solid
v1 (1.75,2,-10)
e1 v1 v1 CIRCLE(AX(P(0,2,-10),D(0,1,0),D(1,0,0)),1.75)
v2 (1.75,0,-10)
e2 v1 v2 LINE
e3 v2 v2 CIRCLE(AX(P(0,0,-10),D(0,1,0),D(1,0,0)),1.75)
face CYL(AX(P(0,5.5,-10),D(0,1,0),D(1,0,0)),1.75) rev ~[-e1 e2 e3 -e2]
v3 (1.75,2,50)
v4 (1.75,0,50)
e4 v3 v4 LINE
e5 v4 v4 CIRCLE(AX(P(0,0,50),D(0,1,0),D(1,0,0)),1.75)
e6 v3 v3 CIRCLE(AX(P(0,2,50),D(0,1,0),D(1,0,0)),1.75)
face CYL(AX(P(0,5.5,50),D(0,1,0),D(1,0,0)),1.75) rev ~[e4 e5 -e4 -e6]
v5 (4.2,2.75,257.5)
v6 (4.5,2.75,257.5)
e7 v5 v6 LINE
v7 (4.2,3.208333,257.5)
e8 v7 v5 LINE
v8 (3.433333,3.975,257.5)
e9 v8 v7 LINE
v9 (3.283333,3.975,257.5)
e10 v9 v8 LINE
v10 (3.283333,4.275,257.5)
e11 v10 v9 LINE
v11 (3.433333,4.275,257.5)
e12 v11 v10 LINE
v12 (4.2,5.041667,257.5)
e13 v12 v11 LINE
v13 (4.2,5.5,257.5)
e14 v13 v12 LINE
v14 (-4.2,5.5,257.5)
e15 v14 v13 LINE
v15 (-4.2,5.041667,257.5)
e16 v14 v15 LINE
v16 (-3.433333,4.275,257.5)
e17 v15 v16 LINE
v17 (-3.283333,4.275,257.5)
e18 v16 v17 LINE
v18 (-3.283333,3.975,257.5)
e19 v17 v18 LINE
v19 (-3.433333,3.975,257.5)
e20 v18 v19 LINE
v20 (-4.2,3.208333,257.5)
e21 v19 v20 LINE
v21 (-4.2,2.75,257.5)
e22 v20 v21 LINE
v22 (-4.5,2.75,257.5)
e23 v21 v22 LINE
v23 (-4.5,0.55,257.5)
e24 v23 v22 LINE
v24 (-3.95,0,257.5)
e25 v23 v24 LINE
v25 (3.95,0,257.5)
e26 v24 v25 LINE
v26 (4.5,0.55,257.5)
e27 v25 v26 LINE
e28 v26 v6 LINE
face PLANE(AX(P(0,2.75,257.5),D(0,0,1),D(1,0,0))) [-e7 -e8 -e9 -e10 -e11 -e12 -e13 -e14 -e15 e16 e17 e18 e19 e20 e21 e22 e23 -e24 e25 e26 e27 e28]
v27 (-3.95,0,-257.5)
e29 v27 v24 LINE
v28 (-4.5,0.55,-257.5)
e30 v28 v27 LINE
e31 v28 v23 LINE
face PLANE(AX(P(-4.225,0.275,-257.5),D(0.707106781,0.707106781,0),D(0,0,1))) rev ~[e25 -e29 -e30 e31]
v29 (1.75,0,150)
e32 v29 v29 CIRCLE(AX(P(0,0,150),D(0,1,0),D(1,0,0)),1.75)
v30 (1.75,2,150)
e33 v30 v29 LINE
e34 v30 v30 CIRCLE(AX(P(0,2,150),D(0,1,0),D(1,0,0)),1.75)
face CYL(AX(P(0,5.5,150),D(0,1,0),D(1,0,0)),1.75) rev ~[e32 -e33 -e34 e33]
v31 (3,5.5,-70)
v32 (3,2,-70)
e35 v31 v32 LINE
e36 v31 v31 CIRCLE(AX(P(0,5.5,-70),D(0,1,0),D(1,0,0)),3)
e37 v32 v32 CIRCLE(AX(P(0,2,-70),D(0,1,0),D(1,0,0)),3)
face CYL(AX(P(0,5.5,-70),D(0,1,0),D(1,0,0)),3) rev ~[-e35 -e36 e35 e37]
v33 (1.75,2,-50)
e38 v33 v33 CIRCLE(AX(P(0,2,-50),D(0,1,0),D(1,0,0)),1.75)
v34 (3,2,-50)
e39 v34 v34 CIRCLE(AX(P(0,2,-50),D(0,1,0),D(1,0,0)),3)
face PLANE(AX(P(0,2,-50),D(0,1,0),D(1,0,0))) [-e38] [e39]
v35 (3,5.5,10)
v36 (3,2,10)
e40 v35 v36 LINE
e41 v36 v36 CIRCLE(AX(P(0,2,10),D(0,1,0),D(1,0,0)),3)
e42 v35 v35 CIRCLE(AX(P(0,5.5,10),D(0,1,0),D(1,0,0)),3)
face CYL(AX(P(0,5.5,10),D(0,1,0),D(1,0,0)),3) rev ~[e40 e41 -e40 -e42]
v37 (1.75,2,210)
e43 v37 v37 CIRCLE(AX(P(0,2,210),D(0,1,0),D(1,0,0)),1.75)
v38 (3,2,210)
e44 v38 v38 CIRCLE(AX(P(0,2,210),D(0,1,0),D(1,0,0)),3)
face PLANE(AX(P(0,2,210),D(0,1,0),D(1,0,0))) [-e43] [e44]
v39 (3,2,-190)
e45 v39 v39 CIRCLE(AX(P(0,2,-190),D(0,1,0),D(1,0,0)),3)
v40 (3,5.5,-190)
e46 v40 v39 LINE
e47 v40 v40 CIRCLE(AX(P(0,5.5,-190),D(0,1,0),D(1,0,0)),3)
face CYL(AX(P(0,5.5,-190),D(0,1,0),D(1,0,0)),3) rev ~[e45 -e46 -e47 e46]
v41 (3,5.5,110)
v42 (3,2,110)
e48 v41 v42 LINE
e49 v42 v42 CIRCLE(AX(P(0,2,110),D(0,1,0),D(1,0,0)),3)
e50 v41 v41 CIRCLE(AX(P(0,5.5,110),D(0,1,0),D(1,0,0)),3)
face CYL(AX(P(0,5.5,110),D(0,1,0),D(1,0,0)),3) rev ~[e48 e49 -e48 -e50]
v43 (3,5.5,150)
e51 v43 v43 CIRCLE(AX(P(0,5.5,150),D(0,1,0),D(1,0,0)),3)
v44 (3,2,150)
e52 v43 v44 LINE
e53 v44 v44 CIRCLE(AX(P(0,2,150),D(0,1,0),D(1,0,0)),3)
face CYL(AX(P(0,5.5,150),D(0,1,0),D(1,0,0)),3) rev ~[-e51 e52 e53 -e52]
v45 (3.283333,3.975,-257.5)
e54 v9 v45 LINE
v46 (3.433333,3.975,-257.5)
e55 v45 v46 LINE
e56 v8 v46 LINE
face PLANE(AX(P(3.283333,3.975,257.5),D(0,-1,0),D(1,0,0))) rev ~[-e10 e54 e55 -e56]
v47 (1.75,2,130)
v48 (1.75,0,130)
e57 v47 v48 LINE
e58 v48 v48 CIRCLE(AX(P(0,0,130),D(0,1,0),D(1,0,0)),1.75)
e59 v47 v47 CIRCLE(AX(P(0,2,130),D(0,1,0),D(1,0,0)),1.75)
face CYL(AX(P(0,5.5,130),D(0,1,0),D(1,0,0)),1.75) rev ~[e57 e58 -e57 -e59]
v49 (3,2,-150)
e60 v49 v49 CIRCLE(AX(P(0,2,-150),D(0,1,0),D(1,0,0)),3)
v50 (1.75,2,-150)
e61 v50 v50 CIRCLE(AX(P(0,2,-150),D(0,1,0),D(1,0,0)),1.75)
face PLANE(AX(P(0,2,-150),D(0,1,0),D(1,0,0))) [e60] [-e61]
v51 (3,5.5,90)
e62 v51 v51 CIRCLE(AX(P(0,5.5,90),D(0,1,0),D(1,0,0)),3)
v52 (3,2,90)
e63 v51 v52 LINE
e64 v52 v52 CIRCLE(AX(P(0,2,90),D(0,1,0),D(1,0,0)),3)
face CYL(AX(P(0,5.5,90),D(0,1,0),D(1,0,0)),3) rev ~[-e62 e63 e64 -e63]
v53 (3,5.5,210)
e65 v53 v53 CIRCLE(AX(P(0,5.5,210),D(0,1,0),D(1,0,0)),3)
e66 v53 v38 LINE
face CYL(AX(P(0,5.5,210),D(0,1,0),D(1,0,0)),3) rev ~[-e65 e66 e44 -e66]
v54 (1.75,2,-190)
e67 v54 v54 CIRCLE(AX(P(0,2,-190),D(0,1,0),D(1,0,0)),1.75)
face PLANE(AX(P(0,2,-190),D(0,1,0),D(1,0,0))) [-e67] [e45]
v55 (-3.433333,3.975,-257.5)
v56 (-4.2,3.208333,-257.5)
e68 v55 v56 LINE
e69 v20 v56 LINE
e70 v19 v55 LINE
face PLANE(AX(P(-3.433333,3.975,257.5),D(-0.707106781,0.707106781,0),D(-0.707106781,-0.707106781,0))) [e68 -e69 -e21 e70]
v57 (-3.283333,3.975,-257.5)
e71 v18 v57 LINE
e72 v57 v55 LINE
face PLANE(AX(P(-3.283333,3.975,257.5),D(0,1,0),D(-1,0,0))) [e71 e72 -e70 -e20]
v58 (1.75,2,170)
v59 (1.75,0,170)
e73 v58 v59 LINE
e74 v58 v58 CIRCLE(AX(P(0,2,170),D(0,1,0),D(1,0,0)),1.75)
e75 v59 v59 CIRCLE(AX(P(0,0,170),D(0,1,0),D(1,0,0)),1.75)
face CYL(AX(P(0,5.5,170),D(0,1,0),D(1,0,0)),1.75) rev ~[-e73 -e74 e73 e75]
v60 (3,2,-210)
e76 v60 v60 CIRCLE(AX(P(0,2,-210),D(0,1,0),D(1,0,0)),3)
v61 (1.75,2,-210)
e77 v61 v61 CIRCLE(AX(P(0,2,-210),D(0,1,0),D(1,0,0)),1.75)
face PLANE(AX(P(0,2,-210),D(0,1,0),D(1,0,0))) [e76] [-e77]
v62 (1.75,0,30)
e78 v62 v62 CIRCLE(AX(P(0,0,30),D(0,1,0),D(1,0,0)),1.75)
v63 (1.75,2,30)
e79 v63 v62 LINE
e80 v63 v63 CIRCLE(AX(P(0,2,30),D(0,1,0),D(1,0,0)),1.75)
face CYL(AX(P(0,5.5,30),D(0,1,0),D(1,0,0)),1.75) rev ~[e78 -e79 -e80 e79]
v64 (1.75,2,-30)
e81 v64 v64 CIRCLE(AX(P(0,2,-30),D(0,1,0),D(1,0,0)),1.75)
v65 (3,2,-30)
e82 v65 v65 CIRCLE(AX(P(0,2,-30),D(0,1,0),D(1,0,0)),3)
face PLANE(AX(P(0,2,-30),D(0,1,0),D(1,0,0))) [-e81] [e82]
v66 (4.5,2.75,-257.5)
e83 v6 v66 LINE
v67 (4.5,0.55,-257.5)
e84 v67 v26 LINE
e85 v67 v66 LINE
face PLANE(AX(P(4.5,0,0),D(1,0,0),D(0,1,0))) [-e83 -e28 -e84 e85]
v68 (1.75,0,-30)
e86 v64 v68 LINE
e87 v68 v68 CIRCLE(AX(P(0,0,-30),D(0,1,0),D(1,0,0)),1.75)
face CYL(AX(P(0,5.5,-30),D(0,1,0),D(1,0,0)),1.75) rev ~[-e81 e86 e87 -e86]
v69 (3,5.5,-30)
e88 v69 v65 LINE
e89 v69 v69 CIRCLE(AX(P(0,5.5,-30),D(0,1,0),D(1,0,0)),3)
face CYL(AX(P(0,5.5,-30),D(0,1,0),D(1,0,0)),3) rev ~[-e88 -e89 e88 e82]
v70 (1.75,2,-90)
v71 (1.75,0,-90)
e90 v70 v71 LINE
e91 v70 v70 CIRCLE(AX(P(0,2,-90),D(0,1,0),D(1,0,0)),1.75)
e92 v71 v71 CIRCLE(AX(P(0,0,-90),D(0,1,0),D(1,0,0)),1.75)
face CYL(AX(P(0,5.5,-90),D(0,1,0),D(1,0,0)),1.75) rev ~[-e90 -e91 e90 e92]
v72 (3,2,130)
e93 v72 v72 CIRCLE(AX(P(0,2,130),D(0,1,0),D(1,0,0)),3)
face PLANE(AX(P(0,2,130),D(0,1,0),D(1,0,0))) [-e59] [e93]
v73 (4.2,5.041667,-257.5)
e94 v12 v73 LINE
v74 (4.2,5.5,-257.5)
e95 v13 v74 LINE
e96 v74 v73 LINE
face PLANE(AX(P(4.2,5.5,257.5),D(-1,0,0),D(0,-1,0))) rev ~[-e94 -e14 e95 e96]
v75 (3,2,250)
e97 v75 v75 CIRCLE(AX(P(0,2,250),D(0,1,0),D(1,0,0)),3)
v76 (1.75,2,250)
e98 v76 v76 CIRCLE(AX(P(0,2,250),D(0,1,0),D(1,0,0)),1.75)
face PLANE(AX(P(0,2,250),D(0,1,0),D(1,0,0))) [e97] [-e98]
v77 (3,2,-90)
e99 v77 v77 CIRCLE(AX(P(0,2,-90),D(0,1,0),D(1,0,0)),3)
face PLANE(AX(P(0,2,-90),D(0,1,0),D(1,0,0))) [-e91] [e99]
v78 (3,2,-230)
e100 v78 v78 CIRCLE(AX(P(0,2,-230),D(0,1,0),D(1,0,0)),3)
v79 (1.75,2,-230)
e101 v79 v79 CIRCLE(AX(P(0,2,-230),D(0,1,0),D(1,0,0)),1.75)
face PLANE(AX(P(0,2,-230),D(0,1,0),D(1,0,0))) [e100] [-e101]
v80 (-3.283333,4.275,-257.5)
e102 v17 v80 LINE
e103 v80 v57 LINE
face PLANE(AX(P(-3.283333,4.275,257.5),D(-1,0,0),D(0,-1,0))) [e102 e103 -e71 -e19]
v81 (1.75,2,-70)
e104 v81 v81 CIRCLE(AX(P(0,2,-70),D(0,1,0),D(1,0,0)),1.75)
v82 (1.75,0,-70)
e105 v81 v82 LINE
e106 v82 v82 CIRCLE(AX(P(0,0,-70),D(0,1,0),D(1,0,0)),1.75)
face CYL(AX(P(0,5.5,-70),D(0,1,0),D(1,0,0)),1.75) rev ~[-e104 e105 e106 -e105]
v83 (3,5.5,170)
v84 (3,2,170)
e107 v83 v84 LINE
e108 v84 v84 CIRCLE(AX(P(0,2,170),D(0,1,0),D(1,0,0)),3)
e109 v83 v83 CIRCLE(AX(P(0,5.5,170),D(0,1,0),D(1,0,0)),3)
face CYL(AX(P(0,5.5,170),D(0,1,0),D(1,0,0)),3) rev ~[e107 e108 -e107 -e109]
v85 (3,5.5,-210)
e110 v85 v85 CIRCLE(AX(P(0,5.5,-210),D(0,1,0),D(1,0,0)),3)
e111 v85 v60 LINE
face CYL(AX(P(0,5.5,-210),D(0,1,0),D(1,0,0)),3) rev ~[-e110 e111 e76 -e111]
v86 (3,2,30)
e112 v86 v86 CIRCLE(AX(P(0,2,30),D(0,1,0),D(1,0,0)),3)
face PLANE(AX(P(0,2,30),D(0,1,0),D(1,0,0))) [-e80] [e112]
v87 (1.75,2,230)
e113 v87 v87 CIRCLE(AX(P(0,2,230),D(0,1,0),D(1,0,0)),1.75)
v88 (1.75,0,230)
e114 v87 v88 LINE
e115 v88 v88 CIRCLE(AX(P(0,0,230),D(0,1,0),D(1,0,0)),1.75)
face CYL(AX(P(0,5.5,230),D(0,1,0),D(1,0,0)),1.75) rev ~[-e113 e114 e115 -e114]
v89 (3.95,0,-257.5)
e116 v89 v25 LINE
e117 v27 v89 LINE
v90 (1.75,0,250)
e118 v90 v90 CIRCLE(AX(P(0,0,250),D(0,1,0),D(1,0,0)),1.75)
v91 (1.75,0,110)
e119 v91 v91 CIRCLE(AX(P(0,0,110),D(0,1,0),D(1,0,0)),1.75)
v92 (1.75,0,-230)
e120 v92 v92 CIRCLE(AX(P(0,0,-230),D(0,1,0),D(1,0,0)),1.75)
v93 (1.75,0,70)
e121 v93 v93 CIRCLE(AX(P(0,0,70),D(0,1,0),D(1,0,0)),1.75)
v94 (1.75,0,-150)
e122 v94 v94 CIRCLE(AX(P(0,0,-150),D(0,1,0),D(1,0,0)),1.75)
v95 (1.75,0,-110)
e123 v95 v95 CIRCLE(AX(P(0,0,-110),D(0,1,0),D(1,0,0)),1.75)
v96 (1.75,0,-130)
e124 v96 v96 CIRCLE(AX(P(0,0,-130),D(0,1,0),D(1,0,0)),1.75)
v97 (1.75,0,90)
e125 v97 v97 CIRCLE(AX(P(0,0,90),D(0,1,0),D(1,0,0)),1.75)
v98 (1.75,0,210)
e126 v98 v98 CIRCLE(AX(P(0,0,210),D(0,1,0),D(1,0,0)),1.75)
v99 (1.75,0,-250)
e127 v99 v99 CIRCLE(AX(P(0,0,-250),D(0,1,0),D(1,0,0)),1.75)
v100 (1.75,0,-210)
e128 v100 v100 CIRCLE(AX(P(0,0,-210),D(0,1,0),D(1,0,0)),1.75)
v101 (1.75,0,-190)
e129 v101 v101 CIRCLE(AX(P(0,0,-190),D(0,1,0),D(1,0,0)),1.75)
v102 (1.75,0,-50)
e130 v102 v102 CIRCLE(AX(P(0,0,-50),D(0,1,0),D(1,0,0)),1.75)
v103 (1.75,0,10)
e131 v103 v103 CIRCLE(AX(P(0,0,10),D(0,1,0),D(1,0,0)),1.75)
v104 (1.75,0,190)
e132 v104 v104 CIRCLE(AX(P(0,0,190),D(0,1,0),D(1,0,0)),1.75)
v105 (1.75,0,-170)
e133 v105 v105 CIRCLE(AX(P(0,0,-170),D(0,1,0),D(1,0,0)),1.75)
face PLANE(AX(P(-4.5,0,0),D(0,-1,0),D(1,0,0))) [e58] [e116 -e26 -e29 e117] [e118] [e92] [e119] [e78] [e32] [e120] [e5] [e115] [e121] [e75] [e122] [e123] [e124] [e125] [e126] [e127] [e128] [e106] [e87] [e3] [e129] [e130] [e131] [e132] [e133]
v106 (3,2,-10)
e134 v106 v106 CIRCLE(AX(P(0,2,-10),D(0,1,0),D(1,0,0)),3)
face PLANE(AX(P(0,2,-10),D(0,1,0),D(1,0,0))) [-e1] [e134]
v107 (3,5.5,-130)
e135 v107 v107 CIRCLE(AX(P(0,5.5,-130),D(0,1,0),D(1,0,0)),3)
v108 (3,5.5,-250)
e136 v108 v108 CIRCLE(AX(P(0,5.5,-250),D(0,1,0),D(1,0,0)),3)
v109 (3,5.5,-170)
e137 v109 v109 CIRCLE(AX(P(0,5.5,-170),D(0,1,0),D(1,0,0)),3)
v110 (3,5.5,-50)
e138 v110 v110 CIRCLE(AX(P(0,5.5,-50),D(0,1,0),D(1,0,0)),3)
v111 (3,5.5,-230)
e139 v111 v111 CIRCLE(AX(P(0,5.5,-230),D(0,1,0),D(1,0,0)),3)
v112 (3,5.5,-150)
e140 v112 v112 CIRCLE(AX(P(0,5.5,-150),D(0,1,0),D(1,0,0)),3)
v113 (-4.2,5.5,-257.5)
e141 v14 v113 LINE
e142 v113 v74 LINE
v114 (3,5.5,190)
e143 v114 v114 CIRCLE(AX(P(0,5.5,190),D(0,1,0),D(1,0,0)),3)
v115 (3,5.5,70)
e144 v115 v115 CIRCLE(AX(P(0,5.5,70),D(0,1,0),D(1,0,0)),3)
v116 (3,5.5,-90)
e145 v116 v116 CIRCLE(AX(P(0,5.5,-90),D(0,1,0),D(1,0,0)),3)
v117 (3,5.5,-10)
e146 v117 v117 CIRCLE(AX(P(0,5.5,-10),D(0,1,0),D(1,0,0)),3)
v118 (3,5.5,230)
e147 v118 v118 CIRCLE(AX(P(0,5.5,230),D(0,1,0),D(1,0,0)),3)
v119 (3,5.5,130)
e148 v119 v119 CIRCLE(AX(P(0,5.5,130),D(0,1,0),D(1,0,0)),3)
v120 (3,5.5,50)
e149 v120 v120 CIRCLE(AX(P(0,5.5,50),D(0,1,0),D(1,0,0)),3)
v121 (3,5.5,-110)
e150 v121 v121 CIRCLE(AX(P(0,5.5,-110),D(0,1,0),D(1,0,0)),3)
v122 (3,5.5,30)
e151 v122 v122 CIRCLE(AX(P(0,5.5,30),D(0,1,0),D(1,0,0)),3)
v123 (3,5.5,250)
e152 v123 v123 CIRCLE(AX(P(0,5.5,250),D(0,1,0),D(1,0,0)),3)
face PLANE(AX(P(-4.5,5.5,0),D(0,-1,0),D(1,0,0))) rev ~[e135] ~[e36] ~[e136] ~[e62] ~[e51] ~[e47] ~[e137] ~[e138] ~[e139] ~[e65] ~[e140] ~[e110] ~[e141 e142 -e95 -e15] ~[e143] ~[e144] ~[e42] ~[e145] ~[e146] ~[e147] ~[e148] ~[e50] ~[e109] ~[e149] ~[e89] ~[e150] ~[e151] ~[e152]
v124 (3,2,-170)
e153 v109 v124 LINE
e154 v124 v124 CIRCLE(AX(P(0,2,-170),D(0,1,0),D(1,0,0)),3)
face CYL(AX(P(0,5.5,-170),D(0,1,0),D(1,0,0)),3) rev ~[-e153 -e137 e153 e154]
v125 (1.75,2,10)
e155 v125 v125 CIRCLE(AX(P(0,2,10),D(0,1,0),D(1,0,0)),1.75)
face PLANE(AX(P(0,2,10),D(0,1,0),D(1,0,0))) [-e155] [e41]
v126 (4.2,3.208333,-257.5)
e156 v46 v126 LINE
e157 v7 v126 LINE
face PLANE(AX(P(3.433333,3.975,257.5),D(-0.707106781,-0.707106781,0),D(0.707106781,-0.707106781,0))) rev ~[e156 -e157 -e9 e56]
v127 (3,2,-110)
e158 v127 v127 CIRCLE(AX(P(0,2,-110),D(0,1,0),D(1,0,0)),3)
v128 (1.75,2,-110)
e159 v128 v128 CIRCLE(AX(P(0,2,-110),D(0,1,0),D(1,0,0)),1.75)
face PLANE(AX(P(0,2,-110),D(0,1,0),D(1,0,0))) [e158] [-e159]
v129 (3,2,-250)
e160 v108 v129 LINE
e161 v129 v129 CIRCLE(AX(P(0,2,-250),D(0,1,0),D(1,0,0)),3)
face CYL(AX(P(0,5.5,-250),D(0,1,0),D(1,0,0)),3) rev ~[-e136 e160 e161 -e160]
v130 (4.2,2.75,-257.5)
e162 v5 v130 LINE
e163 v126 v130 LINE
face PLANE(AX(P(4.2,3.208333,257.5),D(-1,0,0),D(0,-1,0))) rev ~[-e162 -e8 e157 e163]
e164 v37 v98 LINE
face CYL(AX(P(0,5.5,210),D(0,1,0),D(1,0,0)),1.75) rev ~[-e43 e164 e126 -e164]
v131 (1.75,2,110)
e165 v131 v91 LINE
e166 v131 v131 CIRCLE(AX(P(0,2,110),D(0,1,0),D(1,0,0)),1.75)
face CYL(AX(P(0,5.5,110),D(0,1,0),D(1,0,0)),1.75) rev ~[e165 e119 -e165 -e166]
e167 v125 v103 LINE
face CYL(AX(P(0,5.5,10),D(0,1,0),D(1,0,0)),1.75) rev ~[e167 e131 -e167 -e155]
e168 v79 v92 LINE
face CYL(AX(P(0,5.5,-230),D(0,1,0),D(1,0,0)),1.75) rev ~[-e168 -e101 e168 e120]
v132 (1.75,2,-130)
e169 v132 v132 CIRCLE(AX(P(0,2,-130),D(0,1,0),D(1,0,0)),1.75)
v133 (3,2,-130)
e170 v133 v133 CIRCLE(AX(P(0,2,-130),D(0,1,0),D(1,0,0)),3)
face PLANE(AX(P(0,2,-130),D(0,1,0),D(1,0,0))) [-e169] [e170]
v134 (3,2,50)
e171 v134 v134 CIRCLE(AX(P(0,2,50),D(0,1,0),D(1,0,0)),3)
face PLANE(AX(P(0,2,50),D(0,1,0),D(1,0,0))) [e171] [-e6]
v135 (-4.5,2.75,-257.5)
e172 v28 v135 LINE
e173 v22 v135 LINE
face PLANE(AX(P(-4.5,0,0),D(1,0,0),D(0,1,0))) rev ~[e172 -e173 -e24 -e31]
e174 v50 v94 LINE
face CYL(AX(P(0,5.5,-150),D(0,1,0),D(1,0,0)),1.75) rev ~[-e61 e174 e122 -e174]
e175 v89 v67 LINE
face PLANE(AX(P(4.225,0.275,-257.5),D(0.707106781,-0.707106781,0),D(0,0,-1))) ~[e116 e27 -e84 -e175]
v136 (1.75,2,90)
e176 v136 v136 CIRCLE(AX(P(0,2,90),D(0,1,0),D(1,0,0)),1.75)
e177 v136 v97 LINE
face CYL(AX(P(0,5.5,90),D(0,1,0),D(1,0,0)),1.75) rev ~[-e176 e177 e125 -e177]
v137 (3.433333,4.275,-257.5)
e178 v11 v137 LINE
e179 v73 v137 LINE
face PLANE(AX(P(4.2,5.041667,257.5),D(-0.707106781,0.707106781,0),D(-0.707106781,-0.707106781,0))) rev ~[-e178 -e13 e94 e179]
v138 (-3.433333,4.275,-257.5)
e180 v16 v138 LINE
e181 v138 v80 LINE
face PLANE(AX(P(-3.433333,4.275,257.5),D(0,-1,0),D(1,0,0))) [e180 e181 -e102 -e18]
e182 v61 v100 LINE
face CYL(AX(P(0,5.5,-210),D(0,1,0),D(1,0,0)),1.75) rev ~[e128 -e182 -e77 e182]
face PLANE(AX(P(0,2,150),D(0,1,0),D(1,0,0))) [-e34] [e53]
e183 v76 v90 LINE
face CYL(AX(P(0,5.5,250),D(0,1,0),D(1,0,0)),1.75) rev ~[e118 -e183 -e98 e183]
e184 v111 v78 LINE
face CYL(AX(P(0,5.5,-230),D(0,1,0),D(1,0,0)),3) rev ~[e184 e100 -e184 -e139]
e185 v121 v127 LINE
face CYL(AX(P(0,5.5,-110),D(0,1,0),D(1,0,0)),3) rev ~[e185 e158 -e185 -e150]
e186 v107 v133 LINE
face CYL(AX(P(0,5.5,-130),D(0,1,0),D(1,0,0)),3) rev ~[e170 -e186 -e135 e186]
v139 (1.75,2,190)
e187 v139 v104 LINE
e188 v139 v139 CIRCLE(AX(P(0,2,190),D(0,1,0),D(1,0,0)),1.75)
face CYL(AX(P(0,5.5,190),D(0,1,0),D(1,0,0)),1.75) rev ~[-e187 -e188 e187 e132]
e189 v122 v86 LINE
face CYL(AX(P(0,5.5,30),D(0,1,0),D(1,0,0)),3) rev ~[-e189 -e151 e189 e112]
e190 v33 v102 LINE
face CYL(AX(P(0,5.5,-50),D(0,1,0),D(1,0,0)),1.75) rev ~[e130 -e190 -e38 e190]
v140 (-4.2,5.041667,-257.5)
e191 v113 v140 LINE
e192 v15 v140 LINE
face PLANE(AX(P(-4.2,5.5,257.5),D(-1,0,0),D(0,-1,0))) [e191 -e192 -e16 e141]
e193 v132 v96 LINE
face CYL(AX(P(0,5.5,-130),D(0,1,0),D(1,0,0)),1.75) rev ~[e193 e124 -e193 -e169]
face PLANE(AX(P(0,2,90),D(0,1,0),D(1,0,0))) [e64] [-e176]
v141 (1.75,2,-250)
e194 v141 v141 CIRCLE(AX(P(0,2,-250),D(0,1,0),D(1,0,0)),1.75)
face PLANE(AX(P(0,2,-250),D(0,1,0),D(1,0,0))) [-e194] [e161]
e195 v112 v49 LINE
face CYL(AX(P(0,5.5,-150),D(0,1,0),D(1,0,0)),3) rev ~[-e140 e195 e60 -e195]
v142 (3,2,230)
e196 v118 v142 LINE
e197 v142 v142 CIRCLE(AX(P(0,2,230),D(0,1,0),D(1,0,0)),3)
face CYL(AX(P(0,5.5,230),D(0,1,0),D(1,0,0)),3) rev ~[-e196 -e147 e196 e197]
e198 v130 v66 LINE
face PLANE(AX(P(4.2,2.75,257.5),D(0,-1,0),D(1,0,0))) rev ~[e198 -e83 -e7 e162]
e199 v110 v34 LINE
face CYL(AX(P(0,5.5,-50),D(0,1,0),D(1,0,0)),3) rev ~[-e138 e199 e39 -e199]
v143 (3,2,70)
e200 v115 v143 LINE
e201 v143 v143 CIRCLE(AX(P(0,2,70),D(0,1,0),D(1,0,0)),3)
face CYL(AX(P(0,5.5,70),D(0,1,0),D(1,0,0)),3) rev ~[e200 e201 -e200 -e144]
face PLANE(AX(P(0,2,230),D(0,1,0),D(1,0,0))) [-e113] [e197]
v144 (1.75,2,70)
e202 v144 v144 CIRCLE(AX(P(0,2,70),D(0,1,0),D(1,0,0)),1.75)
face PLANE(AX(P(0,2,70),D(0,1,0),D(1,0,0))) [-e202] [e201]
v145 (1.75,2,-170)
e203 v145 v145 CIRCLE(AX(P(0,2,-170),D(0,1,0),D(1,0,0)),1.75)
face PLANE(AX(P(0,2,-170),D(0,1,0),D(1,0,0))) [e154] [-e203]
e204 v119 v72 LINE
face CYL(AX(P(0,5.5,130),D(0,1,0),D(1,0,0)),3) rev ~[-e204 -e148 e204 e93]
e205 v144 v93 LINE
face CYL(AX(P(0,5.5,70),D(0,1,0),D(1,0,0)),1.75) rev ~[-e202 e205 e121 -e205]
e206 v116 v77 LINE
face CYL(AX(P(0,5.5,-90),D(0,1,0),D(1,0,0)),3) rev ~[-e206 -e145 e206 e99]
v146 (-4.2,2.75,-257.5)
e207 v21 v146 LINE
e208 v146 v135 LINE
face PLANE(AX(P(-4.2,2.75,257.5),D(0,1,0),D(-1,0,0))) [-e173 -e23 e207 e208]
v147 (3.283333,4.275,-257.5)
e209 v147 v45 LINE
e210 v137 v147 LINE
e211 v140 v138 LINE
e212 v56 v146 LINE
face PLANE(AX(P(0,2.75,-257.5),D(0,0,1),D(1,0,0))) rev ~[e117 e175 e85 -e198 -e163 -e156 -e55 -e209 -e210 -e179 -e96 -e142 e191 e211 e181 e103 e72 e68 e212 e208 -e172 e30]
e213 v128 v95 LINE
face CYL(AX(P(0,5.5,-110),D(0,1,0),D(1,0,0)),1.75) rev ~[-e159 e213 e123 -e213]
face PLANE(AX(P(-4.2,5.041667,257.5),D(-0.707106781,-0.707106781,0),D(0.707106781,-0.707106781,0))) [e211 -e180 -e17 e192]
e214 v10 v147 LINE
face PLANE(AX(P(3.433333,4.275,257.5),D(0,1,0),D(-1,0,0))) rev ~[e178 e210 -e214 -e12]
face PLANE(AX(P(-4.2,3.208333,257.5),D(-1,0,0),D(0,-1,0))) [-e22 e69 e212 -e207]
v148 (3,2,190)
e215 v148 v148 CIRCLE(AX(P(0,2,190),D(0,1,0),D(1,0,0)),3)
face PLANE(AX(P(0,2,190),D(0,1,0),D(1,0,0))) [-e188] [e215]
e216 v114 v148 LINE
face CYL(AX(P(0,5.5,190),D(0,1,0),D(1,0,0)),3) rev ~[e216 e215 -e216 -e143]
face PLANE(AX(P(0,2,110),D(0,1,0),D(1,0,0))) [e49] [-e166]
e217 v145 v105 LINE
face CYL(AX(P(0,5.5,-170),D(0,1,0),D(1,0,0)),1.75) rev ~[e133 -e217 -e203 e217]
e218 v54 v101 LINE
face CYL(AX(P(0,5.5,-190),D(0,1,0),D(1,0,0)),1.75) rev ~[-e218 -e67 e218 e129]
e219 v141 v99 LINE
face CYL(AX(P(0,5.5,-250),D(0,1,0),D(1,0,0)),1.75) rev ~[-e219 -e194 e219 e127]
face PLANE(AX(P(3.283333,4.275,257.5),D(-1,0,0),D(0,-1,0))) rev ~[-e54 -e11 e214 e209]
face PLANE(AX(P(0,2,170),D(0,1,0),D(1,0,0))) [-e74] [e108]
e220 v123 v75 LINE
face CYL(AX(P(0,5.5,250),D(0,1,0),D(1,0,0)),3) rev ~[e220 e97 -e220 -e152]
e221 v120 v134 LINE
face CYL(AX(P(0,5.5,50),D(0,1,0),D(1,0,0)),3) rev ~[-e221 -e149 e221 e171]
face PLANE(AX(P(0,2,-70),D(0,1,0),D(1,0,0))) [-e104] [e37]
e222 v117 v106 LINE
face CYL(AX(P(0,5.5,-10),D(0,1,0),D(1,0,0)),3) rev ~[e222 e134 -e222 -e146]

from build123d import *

# Parameters (mm, degrees)
SKETCH1_W       = 9
SKETCH1_H       = 5.5
EXTRUDE1_DEPTH  = 257.5
SKETCH2_R       = 3
SKETCH2_R_2     = 1.75
EXTRUDE2_DEPTH  = 3.5
SKETCH2_3_R     = 1.75
EXTRUDE5_DEPTH  = 6.5
LPATTERN1_COUNT = 26
LPATTERN1_PITCH = 20
EXTRUDE6_DEPTH  = 516
CHAMFER1_SIZE   = 0.55


with BuildPart() as part:
    # Sketch1 → Extrude1 (new body, symmetric)
    with BuildSketch(Plane.XY):
        with Locations((0, 2.75)):
            Rectangle(SKETCH1_W, SKETCH1_H)
    extrude(amount=EXTRUDE1_DEPTH, both=True)

    # Sketch2 → Extrude2 (cut)
    with BuildSketch(Plane(origin=(0, 5.5, 0), x_dir=(1, 0, 0), z_dir=(0, 1, 0))):
        with Locations((0, -250)):
            Circle(SKETCH2_R)
        with Locations((0, -250)):
            Circle(SKETCH2_R_2, mode=Mode.SUBTRACT)
    extrude2 = extrude(amount=-EXTRUDE2_DEPTH, mode=Mode.SUBTRACT)

    # Sketch2<3> → Extrude5 (cut, through all)
    with BuildSketch(Plane(origin=(0, 5.5, 0), x_dir=(1, 0, 0), z_dir=(0, 1, 0))):
        with Locations((0, -250)):
            Circle(SKETCH2_3_R)
    extrude5 = extrude(amount=-EXTRUDE5_DEPTH, mode=Mode.SUBTRACT)

    # LPattern1: Extrude2, Extrude5 ×26
    with Locations(*[(0, 0, -i * LPATTERN1_PITCH) for i in range(1, LPATTERN1_COUNT)]):
        add(extrude2, mode=Mode.SUBTRACT)
        add(extrude5, mode=Mode.SUBTRACT)

    # Sketch3 → Extrude6 (cut, through all)
    with BuildSketch(Plane.XY.offset(257.5)):
        Polygon((-4.2, 5.041666667), (-3.433333333, 4.275), (-3.283333333, 4.275), (-3.283333333, 3.975), (-3.433333333, 3.975), (-4.2, 3.208333333), (-4.2, 2.75), (-4.5, 2.75), (-4.5, 5.5), (-4.2, 5.5), align=None)
        Polygon((3.283333333, 3.975), (3.433333333, 3.975), (4.2, 3.208333333), (4.2, 2.75), (4.5, 2.75), (4.5, 5.5), (4.2, 5.5), (4.2, 5.041666667), (3.433333333, 4.275), (3.283333333, 4.275), align=None)
    extrude(amount=-EXTRUDE6_DEPTH, mode=Mode.SUBTRACT)

    # Chamfer1
    chamfer1_edges = [part.edges().sort_by_distance(p)[0] for p in [
        (4.5, 0, 0),
        (-4.5, 0, 0),
    ]]
    chamfer(chamfer1_edges, length=CHAMFER1_SIZE)


solid = part.part
